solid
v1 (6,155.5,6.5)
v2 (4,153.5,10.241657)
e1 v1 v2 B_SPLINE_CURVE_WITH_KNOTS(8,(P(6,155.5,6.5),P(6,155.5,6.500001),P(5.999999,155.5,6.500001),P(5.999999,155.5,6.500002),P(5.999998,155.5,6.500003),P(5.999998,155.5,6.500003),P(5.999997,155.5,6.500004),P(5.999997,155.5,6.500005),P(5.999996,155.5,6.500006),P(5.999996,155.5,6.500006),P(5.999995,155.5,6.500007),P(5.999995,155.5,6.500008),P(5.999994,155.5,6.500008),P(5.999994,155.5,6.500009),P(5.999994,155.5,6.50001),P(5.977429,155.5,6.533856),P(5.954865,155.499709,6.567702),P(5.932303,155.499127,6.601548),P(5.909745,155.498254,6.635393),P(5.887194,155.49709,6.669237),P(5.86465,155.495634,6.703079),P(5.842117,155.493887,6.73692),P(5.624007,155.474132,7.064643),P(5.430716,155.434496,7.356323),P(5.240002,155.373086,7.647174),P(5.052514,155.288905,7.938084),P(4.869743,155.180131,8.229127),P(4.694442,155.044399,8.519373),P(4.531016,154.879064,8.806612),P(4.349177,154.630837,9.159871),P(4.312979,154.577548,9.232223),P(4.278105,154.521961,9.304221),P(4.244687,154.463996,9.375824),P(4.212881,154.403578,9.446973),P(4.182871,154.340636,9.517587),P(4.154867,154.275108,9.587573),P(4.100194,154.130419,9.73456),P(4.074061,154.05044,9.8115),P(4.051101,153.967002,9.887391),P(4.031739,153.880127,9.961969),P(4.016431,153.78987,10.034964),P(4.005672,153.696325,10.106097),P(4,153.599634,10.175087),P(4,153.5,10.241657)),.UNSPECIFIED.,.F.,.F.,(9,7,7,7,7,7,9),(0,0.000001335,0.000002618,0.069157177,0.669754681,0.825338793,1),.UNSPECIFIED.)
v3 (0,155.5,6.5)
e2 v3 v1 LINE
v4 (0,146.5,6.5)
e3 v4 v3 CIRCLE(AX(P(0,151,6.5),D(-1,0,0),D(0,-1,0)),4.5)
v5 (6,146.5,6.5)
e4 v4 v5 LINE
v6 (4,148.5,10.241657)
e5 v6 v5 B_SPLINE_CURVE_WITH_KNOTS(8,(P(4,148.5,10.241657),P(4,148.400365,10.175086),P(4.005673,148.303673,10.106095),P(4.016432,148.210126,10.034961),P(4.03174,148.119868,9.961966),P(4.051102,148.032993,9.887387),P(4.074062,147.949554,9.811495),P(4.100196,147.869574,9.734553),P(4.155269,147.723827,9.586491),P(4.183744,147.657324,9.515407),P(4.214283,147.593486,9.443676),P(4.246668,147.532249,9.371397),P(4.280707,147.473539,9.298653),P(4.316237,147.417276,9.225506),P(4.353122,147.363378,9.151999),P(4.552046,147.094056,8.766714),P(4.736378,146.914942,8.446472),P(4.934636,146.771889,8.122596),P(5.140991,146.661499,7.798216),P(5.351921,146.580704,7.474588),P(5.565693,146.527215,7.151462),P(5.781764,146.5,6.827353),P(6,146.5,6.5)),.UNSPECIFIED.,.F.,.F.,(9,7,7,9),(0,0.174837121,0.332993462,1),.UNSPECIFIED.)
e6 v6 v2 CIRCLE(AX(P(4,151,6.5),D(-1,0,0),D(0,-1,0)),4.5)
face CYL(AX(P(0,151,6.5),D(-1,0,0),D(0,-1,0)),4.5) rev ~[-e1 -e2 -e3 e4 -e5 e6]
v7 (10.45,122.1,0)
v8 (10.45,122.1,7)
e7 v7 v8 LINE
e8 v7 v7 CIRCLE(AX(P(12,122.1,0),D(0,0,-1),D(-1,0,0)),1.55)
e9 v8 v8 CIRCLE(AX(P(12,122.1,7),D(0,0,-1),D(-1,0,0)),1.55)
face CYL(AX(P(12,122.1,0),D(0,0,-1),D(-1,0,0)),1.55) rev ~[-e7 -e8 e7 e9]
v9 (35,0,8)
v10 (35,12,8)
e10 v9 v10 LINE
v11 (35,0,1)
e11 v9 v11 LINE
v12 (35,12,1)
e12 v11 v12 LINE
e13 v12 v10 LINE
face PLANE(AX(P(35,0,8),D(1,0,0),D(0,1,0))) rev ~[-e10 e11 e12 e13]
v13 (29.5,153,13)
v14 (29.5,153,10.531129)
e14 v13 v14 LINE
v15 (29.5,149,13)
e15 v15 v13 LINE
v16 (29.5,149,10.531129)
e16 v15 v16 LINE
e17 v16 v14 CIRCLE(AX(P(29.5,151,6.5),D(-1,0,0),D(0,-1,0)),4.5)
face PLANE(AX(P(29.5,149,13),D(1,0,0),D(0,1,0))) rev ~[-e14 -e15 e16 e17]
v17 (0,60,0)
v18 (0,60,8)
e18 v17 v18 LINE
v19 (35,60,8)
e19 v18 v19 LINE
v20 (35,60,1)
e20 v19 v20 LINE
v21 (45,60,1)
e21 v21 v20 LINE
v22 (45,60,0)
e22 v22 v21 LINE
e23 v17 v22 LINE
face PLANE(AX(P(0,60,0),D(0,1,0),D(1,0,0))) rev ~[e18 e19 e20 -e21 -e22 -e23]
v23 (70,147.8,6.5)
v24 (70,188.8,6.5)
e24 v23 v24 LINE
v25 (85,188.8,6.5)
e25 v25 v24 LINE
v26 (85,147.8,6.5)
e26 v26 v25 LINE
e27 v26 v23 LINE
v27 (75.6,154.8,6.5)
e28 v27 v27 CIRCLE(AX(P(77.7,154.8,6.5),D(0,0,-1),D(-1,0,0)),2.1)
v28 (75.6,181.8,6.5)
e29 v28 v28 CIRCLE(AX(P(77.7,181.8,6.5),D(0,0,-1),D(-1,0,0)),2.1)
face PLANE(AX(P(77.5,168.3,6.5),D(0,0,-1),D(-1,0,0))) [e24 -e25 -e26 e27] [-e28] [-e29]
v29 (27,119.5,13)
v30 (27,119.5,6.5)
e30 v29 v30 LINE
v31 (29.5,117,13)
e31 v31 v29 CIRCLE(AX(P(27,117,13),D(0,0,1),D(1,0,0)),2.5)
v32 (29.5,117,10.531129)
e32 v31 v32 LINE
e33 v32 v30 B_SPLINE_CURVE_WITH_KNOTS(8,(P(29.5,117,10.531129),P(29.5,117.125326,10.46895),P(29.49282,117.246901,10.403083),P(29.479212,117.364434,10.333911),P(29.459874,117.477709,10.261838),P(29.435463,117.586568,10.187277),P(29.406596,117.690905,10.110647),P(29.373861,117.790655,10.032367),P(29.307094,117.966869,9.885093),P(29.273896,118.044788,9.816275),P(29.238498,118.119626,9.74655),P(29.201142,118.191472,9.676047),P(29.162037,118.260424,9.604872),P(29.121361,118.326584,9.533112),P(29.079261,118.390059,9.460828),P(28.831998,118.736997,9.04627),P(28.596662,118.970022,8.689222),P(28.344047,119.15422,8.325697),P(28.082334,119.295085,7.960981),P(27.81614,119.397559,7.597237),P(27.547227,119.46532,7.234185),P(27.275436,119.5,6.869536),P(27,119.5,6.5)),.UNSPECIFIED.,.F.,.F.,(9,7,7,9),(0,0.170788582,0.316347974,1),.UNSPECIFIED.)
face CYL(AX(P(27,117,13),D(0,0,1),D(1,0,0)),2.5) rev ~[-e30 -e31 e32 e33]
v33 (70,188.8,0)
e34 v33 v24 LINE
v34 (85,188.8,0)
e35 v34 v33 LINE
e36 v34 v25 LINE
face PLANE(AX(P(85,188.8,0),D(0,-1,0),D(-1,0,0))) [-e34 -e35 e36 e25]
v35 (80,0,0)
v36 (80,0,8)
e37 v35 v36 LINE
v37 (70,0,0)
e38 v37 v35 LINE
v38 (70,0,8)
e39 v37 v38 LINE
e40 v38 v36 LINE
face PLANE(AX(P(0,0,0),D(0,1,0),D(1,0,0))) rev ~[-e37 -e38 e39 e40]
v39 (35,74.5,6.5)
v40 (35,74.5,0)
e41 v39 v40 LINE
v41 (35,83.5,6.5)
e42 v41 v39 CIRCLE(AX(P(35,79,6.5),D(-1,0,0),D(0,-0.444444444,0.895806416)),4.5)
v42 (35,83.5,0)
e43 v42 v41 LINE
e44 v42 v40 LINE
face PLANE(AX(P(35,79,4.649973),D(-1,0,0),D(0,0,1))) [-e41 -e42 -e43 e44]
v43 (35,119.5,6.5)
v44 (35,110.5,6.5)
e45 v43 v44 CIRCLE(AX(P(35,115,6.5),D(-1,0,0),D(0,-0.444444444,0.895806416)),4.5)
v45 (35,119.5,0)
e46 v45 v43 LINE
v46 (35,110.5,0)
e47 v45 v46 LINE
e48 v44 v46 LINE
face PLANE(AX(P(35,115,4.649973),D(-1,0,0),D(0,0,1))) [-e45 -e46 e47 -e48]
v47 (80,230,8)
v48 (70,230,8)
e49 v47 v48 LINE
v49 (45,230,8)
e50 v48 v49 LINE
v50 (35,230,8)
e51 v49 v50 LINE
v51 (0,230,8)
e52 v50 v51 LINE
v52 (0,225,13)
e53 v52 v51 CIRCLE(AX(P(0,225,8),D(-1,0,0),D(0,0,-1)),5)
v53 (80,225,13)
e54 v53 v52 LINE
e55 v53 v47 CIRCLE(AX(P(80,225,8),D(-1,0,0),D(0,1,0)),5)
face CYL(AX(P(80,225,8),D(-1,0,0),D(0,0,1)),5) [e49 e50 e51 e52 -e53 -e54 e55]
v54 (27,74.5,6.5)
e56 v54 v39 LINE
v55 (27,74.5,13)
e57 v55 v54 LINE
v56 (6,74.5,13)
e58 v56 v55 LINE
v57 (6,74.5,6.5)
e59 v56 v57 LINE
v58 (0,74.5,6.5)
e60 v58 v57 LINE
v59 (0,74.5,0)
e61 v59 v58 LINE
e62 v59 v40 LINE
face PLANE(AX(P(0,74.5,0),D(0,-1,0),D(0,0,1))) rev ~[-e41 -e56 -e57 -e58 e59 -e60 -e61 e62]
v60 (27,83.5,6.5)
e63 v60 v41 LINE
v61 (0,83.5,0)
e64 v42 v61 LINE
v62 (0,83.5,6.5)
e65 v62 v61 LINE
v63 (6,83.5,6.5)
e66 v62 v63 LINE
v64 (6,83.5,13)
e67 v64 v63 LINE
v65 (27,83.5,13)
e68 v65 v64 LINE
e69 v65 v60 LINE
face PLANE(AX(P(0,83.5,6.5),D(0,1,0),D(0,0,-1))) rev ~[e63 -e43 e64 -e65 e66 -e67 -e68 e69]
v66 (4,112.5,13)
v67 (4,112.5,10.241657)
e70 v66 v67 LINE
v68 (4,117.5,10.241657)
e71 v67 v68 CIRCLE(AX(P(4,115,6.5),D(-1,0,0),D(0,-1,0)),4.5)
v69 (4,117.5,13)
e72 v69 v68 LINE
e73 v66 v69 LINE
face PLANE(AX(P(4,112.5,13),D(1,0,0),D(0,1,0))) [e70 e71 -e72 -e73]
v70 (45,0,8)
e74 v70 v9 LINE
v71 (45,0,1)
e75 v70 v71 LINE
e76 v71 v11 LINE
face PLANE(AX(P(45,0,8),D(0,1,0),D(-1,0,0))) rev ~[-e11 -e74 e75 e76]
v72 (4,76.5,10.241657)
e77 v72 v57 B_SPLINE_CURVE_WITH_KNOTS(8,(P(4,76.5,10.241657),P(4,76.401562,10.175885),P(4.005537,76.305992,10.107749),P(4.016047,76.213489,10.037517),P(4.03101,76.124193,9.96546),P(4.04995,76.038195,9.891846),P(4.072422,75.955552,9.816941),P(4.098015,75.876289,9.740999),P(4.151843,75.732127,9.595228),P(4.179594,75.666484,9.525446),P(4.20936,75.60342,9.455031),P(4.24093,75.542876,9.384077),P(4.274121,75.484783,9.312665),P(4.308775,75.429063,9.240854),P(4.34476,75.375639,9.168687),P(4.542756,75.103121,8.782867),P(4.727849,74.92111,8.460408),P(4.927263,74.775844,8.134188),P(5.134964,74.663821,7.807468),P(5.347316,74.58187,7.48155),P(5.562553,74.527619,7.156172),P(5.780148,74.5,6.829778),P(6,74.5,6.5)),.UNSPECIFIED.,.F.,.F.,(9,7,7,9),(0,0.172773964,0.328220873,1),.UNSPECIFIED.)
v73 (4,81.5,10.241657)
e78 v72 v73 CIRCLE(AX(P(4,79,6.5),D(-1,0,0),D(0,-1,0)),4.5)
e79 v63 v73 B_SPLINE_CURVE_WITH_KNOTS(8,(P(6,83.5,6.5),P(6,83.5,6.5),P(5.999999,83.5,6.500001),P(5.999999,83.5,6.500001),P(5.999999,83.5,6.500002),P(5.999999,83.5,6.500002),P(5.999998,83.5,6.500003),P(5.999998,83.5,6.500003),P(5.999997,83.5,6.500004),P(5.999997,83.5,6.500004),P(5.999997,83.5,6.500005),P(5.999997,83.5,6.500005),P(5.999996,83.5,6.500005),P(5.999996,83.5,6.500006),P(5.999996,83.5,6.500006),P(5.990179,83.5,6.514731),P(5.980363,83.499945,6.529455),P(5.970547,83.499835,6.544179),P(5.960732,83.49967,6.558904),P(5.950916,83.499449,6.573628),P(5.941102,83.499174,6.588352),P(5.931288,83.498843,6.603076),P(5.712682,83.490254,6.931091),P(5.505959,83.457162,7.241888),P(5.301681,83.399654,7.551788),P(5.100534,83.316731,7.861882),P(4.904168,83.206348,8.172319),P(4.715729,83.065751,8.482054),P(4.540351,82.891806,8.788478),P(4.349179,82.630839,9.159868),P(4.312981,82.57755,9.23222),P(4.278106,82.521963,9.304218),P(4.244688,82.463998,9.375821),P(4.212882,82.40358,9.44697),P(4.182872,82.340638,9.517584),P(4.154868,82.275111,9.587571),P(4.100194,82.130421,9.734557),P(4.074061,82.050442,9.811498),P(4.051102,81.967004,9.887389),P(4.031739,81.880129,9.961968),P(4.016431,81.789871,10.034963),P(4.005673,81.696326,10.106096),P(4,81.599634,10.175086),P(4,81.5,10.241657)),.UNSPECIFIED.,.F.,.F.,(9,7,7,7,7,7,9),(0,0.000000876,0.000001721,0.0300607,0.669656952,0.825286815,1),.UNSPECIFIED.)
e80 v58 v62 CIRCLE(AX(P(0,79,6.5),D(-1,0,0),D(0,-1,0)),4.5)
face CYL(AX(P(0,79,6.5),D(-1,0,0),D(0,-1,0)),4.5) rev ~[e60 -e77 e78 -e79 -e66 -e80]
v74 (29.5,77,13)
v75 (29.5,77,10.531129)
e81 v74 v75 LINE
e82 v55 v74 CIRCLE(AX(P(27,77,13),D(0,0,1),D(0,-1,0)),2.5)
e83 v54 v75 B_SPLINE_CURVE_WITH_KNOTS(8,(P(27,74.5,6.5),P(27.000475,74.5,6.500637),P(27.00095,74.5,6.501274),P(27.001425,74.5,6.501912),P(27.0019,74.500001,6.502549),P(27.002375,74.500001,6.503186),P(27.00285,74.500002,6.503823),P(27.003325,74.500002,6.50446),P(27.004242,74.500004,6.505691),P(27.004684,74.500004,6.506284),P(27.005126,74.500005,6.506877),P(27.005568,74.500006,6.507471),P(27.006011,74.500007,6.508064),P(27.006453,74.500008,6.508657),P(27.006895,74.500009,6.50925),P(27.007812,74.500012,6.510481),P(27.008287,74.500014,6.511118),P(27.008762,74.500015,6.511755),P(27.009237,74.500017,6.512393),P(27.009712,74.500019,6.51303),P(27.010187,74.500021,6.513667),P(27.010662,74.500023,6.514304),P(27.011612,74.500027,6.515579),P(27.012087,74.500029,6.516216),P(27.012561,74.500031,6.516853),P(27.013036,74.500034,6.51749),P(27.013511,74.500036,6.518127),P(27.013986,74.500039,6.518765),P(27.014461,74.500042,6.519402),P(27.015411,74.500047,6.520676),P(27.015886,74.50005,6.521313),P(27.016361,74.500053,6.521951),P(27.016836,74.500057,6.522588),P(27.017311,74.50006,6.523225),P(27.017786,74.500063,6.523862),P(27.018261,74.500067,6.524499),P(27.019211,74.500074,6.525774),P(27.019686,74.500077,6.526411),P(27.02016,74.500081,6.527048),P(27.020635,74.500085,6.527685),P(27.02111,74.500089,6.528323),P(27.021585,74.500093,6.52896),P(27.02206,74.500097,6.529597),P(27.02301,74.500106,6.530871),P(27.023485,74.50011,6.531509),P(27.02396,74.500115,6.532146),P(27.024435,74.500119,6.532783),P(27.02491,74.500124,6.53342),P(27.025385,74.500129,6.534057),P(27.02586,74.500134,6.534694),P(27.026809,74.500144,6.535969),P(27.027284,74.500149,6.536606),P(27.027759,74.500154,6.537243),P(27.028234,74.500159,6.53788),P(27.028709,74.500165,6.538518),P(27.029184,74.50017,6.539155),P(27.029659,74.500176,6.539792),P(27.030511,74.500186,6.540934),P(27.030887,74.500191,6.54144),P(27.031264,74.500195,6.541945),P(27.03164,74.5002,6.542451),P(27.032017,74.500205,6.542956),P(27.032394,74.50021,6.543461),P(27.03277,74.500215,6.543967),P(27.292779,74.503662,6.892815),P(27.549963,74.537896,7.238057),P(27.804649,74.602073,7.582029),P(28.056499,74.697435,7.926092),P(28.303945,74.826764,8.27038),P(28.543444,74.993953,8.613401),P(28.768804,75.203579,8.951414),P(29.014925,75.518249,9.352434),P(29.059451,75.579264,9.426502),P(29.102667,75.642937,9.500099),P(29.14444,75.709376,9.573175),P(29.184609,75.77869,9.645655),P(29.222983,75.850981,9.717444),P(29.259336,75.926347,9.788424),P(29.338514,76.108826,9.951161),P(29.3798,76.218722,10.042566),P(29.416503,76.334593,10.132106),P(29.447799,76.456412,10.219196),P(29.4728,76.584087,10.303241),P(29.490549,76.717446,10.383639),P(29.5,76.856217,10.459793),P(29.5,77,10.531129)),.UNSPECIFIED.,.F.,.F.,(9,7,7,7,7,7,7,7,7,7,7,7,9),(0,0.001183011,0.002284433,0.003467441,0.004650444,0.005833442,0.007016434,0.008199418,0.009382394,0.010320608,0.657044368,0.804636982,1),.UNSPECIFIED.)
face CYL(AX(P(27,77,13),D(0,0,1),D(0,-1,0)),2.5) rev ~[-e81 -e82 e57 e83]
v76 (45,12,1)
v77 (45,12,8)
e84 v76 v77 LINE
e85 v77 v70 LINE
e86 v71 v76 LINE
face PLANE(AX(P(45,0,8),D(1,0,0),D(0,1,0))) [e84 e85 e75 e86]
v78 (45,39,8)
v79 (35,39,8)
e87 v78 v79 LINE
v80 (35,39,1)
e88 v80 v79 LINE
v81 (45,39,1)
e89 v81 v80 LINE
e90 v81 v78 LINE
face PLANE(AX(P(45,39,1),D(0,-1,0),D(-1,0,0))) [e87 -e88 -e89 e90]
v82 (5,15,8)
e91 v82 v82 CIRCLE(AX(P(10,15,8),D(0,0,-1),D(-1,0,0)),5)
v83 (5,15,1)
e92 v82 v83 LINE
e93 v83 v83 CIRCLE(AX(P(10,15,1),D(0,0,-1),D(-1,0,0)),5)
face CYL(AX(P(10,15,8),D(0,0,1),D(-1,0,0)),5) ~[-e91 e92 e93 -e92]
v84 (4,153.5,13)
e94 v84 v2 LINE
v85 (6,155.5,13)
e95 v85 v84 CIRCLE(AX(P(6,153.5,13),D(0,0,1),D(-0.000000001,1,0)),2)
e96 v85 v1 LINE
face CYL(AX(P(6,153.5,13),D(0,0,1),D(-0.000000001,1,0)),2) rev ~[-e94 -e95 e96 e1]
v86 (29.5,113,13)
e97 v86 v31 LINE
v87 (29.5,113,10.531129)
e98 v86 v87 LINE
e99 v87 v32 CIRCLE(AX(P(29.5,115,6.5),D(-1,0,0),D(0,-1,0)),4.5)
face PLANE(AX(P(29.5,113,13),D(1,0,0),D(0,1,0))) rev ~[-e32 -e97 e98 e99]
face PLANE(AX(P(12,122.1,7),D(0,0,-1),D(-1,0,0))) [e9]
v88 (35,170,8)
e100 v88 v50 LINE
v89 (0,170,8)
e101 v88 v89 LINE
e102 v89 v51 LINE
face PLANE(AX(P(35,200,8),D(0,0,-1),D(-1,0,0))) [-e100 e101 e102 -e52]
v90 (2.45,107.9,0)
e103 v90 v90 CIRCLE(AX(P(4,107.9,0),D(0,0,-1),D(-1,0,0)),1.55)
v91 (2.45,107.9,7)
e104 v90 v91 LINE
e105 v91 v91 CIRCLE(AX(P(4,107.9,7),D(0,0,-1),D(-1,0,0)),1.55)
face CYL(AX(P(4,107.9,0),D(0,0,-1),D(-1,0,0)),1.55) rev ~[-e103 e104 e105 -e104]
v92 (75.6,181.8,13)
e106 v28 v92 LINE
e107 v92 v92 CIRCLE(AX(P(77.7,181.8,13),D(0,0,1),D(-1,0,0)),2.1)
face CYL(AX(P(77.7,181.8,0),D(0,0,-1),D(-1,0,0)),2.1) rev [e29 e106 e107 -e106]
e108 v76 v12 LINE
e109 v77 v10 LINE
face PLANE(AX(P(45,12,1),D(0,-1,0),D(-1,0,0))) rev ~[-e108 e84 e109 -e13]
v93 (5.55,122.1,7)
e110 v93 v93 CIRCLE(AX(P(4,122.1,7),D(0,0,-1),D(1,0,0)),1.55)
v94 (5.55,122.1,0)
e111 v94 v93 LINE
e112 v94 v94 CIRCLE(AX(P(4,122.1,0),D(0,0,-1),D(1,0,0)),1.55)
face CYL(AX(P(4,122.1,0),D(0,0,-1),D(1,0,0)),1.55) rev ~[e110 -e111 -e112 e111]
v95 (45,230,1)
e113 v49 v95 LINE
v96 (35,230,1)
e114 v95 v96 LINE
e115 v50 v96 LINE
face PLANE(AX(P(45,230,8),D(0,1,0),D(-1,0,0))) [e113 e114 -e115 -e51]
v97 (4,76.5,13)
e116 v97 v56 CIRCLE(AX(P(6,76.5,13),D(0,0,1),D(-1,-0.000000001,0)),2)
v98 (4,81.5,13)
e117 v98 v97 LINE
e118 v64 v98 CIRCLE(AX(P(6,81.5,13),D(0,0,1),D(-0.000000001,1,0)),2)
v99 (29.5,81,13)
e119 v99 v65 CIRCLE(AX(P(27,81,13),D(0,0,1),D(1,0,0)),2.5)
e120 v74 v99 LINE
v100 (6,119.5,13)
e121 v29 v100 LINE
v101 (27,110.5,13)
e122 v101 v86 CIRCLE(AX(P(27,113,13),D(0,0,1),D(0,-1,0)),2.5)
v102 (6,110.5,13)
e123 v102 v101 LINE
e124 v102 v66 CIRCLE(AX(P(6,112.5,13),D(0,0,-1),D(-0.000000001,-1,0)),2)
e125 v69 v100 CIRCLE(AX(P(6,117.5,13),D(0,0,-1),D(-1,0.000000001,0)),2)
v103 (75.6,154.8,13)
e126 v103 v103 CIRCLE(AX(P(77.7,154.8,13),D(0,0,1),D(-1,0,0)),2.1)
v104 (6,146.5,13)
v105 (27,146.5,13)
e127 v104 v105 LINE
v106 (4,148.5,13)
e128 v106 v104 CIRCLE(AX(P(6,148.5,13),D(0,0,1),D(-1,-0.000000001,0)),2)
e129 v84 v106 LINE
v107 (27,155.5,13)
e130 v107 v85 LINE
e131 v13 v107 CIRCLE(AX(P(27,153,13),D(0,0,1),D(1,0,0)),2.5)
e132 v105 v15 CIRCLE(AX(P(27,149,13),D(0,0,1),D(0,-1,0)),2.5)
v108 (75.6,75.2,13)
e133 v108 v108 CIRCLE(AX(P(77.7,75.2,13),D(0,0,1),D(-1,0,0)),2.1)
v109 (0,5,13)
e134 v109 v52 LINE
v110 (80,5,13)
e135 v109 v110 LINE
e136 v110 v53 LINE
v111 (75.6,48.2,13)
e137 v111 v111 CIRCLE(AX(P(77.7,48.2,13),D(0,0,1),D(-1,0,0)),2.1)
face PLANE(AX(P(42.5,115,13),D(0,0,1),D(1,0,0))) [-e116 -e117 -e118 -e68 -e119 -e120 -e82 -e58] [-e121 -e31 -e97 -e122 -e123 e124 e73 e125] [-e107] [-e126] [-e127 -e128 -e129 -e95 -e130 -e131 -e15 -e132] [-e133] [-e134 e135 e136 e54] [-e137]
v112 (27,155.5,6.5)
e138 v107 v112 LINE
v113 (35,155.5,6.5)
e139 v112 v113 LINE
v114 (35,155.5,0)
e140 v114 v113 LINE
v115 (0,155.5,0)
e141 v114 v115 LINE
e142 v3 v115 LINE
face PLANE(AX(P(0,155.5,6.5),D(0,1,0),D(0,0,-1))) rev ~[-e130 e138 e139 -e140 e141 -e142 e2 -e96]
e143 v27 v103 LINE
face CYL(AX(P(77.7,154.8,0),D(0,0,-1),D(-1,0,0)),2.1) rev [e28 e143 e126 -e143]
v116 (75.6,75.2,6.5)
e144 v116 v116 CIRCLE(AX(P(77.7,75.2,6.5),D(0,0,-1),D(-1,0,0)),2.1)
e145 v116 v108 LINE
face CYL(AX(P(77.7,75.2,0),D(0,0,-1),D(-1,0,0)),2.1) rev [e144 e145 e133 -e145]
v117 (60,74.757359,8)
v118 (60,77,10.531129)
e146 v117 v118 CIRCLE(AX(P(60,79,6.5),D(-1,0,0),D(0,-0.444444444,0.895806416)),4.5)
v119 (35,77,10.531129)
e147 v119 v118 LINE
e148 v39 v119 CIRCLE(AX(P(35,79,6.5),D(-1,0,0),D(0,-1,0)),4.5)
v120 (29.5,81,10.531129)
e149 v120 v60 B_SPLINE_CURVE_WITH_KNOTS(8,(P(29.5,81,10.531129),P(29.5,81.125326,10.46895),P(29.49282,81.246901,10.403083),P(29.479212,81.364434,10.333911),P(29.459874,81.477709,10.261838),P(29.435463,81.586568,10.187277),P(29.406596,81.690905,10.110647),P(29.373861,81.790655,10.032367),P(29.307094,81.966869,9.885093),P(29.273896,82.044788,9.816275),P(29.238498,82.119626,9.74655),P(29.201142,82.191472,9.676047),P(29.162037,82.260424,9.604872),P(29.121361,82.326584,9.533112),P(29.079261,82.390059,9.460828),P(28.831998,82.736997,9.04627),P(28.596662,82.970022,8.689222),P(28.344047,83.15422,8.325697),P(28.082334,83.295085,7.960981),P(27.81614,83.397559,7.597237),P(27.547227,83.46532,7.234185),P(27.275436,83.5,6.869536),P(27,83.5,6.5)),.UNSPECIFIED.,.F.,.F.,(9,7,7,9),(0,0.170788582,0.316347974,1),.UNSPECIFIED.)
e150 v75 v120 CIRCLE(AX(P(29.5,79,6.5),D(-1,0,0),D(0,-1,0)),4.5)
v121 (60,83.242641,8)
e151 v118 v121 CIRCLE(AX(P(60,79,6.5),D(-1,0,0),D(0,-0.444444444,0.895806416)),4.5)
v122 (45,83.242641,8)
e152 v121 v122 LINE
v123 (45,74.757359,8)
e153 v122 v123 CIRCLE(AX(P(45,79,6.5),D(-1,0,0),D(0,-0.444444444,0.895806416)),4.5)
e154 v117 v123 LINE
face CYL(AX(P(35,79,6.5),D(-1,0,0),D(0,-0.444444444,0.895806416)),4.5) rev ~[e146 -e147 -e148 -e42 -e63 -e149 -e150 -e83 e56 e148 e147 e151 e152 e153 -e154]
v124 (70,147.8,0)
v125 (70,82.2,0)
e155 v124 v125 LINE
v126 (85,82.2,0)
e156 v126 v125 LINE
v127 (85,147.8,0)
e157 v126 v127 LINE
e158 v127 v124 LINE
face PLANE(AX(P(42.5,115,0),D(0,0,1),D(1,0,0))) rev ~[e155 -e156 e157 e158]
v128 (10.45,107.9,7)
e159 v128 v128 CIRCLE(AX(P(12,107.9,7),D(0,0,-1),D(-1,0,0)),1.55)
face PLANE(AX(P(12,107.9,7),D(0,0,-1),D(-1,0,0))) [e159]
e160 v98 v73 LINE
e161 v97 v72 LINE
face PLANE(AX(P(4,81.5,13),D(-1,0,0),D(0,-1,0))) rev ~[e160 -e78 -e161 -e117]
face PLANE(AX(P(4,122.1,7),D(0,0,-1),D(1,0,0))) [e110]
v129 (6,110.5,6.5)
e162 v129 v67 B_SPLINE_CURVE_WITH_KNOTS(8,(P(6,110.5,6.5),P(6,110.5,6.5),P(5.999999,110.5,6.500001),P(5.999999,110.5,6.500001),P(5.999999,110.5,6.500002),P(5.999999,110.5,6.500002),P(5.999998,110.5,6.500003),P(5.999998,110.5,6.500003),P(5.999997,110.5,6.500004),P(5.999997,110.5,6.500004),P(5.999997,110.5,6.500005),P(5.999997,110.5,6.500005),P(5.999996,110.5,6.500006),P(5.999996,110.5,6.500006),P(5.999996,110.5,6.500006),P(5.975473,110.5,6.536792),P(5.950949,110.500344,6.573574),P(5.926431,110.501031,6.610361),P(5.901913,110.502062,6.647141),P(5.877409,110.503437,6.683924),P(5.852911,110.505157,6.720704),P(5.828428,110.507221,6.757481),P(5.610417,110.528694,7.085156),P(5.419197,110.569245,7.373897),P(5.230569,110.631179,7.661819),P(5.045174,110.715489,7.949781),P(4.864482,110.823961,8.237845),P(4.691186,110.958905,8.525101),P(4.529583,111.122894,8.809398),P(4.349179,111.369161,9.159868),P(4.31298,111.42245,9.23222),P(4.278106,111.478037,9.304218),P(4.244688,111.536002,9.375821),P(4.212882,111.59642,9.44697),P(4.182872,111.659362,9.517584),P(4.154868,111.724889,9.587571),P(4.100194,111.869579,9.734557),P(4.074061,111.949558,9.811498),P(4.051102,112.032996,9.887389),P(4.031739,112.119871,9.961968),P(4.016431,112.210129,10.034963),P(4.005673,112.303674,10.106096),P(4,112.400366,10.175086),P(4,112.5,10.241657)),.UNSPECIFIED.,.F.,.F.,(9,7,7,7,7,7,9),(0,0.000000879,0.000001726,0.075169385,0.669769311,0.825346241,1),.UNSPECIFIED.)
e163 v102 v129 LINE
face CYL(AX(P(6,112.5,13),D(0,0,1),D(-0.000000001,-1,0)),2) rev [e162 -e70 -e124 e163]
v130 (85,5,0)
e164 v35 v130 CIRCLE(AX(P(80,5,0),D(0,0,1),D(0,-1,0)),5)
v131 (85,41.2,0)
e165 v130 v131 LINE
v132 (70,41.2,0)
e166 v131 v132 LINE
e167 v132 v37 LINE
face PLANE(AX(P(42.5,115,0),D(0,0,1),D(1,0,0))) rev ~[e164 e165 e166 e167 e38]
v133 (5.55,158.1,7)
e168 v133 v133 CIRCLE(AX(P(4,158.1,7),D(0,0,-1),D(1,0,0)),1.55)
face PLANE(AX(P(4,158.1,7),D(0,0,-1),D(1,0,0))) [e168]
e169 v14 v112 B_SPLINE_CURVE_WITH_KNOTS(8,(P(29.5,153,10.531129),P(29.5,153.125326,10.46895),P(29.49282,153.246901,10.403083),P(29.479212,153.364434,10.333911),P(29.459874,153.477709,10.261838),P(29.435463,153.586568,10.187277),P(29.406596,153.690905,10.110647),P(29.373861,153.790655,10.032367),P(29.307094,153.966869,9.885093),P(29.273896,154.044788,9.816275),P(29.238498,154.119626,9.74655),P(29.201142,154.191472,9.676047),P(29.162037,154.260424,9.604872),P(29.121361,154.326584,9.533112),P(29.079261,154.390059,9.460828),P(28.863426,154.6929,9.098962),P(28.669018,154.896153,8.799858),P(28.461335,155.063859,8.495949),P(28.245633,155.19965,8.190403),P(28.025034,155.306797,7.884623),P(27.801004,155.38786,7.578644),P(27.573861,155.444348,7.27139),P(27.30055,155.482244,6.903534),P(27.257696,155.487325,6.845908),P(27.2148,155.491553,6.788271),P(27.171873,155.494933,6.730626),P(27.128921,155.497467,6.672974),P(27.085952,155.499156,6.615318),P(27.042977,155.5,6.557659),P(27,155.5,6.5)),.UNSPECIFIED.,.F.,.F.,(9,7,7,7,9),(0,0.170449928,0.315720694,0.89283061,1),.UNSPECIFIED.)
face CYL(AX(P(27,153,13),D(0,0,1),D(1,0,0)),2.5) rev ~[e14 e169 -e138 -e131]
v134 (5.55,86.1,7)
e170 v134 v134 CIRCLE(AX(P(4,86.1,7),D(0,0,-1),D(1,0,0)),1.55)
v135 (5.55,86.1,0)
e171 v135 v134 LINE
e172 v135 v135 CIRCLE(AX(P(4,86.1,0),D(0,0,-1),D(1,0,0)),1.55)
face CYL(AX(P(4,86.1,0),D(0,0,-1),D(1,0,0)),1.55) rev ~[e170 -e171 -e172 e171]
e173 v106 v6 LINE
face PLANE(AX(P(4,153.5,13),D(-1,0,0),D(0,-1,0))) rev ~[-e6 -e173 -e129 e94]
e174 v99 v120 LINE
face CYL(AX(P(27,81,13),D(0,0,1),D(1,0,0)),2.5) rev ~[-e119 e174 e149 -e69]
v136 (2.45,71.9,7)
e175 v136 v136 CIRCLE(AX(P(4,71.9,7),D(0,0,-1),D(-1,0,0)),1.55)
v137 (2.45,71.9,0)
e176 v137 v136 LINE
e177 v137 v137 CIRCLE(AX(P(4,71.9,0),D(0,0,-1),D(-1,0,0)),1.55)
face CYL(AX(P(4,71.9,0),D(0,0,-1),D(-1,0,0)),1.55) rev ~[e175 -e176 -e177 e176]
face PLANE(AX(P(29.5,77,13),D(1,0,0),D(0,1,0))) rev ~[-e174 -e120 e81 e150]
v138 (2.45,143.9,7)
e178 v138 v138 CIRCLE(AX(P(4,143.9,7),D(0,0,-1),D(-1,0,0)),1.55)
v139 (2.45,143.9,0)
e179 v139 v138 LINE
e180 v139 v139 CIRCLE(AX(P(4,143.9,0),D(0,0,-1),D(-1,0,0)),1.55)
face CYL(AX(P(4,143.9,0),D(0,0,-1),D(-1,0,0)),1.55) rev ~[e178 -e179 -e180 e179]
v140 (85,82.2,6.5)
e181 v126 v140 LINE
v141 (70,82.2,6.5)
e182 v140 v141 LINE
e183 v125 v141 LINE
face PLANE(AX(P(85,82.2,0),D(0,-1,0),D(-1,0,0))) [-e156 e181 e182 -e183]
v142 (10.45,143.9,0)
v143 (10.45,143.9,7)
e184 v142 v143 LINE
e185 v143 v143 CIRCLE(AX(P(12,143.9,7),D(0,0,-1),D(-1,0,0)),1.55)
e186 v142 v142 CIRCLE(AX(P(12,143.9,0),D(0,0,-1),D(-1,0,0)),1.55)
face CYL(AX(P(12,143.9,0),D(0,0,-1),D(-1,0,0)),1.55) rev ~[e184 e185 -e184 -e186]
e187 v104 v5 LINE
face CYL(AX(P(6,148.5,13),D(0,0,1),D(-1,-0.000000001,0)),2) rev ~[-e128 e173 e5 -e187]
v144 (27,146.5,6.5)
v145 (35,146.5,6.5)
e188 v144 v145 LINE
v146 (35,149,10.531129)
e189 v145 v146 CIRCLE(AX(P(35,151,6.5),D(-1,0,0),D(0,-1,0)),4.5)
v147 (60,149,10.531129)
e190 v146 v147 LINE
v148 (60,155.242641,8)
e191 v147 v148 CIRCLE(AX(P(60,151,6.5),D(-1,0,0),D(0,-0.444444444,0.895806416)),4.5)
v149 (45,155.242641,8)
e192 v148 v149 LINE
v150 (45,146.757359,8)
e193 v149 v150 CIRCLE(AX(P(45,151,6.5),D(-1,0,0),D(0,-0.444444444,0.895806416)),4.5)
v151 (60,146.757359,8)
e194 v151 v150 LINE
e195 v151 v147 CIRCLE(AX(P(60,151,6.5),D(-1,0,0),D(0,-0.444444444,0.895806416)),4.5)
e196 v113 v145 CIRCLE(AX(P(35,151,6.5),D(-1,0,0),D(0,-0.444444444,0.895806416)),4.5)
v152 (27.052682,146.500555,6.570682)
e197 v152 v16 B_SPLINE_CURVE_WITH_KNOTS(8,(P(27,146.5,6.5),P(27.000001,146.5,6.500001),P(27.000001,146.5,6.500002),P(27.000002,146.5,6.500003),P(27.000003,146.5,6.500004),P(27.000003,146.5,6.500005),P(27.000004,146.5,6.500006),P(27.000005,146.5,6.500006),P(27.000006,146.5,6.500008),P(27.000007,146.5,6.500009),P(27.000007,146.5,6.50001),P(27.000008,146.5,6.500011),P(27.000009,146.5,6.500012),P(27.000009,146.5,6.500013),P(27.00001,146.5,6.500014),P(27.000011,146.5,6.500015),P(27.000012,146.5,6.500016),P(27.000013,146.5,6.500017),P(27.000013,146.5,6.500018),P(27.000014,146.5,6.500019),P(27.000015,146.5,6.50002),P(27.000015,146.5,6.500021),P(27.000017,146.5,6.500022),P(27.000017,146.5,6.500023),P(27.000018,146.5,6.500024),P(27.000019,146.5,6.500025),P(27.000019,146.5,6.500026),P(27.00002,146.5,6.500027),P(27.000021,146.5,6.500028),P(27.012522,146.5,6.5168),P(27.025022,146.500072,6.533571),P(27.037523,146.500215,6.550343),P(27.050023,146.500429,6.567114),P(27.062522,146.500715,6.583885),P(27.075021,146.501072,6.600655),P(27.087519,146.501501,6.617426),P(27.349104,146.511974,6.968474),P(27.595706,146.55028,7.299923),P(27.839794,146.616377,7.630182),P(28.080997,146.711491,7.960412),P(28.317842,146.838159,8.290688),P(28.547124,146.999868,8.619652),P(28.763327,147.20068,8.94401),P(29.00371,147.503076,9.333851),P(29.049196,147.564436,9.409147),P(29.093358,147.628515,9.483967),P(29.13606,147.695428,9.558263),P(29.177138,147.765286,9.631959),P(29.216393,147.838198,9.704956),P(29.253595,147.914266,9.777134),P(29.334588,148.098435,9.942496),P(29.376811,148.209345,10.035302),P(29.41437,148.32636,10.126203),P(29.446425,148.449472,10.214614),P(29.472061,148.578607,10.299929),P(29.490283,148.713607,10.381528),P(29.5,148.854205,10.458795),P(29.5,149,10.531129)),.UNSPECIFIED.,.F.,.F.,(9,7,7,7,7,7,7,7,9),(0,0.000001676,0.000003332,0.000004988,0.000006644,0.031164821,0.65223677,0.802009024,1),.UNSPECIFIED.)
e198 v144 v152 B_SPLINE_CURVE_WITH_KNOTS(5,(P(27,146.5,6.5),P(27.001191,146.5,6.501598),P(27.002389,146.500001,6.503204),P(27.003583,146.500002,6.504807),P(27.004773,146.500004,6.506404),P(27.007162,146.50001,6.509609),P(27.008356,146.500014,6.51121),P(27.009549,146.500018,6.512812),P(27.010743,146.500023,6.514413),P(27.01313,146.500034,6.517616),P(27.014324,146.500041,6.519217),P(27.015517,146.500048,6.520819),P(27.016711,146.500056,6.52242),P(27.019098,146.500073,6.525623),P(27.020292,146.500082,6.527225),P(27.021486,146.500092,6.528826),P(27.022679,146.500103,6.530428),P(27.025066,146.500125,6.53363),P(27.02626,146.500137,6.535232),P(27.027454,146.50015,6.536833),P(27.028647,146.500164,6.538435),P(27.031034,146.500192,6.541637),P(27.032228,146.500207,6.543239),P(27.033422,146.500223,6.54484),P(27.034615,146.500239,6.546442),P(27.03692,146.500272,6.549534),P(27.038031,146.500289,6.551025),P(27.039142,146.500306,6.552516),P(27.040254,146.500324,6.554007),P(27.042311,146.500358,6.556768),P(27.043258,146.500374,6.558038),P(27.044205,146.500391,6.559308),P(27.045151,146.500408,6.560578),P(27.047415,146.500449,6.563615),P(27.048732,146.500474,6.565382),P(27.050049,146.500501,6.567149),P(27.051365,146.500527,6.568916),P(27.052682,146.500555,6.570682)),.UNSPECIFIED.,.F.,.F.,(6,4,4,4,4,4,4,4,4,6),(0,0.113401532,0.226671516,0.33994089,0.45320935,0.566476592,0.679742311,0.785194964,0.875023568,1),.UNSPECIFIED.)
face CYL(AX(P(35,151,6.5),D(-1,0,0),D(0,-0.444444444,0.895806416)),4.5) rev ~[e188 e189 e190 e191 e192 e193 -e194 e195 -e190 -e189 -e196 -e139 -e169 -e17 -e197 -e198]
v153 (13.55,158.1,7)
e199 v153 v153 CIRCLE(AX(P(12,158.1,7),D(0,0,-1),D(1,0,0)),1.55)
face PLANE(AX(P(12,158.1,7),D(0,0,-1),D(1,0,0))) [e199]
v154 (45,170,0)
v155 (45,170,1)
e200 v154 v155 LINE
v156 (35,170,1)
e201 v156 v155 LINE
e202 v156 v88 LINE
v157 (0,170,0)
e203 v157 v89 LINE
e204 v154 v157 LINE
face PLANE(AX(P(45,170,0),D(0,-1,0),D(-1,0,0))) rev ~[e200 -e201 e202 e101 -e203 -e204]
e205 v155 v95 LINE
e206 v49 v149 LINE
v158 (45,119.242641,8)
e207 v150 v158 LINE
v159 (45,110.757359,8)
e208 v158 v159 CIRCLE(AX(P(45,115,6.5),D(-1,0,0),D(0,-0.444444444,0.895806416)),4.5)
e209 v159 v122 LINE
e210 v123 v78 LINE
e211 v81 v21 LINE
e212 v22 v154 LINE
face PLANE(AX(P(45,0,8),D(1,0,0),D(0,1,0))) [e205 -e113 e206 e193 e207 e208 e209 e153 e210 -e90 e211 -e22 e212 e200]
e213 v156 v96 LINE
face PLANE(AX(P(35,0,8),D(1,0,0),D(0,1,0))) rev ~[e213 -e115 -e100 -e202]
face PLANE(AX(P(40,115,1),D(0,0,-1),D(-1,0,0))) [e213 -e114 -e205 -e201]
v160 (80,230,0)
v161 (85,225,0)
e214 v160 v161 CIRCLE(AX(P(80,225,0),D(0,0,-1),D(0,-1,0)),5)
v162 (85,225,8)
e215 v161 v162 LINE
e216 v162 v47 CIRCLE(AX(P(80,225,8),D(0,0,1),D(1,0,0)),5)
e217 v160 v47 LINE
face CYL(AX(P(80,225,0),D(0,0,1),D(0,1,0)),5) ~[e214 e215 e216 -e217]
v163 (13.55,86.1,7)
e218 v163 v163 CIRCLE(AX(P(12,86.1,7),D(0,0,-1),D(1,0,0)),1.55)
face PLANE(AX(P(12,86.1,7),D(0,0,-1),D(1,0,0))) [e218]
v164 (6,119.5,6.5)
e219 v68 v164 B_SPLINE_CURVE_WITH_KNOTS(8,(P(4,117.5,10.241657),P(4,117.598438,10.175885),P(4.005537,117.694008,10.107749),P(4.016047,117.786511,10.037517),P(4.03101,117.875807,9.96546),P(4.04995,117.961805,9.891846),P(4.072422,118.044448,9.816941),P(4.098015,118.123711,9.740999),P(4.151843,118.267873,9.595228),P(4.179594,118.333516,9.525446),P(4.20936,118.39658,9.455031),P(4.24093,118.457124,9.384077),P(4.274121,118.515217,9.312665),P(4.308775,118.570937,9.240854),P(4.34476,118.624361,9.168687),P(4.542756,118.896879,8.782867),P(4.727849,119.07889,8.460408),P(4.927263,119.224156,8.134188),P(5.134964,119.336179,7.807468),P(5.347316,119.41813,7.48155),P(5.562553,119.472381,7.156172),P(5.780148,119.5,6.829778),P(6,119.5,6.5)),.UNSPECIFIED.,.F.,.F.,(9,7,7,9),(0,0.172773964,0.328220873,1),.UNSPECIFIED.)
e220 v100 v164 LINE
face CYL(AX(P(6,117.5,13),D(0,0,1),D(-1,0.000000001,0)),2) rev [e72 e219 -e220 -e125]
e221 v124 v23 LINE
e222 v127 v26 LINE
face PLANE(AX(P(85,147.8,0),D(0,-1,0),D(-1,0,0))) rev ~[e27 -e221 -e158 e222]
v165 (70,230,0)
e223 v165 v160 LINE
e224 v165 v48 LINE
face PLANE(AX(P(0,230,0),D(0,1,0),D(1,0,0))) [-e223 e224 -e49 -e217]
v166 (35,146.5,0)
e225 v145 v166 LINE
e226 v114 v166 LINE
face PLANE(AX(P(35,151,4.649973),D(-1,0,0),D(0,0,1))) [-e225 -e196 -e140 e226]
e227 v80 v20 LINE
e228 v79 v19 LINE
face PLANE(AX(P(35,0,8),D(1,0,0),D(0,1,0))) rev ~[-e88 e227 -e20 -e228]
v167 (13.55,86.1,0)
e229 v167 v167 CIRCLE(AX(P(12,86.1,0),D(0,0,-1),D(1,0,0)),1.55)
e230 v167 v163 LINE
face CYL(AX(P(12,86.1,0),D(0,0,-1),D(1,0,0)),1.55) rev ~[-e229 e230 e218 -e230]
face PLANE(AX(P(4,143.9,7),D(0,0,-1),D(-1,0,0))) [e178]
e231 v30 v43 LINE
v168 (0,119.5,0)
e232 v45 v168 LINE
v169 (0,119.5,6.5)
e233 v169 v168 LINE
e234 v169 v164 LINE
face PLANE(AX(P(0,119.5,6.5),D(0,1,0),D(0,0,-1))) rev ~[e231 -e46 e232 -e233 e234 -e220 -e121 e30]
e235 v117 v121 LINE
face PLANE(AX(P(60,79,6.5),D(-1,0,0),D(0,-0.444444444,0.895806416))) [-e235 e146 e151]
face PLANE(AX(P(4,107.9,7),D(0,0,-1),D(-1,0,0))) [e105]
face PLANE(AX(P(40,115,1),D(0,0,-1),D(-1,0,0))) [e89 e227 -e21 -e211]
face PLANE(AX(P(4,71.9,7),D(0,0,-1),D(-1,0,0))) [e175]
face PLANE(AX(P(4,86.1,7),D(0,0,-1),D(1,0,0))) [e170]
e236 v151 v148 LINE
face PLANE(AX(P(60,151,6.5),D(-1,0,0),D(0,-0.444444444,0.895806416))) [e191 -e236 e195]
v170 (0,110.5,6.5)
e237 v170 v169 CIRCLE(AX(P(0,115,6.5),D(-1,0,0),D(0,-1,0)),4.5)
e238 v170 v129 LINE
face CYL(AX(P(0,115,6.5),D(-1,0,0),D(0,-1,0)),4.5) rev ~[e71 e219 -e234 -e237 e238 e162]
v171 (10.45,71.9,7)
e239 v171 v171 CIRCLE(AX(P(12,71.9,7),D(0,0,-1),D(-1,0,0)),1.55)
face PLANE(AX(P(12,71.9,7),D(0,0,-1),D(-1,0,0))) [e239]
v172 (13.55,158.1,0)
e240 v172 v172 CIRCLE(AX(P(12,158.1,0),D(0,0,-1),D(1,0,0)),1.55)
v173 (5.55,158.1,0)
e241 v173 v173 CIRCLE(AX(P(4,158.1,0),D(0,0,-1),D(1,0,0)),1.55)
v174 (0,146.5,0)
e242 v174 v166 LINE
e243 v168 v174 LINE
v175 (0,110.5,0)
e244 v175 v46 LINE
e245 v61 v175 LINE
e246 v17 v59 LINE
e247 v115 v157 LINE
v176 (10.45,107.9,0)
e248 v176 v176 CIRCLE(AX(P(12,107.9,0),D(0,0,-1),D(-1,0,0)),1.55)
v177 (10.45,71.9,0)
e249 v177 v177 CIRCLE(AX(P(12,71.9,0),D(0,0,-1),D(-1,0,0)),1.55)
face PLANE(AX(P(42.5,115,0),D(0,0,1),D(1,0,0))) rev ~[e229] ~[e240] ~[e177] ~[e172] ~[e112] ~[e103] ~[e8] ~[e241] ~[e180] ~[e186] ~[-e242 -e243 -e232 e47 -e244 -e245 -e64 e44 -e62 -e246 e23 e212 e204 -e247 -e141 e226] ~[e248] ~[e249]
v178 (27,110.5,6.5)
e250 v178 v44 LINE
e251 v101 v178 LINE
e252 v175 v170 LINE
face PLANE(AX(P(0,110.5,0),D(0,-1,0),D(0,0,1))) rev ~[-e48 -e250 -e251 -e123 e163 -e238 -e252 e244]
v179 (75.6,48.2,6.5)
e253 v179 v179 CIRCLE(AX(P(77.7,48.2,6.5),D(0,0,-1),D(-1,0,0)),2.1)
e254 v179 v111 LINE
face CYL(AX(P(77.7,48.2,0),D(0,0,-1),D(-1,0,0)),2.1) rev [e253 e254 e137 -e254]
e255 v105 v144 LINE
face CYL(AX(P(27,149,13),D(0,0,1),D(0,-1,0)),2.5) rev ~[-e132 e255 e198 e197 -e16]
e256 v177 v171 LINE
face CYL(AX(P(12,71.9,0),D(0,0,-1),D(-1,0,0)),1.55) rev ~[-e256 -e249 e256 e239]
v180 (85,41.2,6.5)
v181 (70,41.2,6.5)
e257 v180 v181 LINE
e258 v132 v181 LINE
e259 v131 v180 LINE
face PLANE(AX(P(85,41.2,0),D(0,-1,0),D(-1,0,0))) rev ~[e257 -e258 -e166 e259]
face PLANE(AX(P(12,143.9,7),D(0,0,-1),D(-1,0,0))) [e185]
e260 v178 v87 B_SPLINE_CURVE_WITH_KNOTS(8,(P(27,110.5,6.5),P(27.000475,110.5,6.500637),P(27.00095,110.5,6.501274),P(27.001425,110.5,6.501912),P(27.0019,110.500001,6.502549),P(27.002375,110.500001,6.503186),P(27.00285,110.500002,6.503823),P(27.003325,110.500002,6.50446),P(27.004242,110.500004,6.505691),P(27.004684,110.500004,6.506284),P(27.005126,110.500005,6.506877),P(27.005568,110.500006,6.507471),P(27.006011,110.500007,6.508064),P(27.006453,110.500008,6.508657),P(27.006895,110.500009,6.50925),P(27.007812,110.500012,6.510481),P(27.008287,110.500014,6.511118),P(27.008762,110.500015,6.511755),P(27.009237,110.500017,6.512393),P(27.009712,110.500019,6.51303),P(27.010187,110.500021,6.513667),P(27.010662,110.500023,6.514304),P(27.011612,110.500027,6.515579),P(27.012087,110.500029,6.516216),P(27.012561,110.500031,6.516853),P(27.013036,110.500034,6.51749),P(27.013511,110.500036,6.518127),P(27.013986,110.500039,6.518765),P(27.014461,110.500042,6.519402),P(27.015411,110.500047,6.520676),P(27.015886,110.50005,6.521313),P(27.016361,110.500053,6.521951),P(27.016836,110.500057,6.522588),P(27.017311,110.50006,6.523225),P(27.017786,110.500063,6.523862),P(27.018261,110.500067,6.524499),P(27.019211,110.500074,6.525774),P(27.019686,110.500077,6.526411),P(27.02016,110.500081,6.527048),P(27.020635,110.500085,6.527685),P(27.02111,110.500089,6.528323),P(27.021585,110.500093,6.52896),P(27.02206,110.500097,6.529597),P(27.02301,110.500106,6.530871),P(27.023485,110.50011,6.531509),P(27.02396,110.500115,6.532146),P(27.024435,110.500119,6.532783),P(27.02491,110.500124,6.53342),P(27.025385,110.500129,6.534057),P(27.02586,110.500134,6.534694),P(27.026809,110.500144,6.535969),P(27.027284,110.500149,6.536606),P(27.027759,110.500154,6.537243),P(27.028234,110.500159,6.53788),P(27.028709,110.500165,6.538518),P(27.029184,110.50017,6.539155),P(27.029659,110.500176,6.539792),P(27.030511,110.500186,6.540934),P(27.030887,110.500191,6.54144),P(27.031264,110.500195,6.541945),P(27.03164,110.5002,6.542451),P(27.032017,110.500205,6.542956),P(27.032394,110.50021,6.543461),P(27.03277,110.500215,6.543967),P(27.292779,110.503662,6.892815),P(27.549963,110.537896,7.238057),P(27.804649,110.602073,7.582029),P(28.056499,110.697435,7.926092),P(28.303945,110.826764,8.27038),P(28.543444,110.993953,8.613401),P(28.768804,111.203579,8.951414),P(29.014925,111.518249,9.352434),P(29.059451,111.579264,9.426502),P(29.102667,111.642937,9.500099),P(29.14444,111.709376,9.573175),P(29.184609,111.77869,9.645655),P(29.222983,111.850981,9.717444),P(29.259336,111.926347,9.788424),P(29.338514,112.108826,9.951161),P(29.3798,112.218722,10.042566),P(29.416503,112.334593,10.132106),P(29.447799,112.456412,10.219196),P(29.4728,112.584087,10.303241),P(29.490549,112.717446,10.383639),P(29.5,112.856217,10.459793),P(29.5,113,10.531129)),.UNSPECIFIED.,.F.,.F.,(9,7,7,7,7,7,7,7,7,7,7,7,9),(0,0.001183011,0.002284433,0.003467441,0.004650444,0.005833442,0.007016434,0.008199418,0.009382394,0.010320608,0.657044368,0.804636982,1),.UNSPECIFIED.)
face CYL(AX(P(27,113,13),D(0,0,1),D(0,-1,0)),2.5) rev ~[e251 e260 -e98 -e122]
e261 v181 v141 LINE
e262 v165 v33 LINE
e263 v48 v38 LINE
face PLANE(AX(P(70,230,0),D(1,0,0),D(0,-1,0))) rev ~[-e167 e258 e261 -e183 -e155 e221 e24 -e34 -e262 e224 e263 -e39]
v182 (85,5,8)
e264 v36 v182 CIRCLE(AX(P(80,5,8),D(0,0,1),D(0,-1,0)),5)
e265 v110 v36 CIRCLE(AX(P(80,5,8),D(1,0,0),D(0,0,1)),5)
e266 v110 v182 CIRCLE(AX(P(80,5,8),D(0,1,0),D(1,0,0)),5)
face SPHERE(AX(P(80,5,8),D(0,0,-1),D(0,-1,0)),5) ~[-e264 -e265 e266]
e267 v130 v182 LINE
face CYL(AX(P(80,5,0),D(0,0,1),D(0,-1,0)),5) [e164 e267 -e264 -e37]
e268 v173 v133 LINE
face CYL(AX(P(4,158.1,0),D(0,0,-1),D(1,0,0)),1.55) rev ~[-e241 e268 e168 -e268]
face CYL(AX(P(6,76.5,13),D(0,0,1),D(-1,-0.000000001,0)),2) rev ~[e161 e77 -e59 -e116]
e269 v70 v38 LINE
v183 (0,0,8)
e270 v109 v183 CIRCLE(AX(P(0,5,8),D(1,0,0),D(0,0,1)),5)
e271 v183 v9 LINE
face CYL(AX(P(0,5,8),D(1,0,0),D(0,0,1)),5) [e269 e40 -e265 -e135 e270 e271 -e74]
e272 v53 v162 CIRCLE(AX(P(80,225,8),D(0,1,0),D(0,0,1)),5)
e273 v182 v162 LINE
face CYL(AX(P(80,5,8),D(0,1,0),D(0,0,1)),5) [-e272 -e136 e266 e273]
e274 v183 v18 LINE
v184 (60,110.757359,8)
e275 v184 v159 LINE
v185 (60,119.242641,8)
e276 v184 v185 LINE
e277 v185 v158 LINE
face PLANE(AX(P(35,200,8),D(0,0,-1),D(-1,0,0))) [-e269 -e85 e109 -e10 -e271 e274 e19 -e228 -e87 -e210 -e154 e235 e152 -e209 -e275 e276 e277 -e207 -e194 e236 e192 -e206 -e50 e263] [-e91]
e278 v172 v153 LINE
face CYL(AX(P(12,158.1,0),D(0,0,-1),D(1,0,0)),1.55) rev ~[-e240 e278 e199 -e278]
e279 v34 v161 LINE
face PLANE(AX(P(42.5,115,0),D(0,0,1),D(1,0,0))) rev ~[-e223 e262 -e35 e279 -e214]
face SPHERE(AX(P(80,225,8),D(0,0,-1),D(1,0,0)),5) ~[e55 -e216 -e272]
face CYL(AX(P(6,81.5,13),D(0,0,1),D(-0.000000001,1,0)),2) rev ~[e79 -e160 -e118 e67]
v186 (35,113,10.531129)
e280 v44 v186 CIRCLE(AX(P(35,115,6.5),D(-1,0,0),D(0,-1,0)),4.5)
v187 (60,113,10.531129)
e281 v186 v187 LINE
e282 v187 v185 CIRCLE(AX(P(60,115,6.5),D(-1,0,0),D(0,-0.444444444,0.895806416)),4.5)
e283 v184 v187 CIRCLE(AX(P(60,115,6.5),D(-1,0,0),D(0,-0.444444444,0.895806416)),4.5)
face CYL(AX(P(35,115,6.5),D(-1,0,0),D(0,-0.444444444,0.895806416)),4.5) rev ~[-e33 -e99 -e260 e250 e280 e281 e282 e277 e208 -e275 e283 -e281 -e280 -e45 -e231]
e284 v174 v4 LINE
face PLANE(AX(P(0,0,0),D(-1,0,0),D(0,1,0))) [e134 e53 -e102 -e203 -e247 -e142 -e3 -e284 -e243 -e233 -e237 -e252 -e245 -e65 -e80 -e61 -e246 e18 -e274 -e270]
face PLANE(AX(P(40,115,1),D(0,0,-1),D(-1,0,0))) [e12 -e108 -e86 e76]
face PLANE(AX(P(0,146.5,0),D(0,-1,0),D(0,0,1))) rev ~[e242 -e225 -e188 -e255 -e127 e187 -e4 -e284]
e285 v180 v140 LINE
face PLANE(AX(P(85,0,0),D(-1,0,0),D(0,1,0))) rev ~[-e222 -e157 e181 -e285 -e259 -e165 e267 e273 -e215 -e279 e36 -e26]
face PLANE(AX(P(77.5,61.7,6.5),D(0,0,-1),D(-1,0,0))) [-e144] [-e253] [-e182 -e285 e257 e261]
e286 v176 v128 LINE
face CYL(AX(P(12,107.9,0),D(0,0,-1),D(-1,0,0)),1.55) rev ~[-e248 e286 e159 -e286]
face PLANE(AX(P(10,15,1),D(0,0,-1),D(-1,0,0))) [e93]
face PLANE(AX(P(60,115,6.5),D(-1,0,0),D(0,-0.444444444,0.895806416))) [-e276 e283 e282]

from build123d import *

# Parameters (mm, degrees)
SKETCH1_W           = 85
SKETCH1_H           = 230
SKETCH1_R           = 2.1
BOSS_EXTRUDE2_DEPTH = 13
FILLET1_R           = 5
FILLET2_R           = 5
CUT_EXTRUDE2_DEPTH  = 35
CUT_EXTRUDE3_DEPTH  = 14
SKETCH6_R           = 1.55
CUT_EXTRUDE4_DEPTH  = 7
SKETCH9_W           = 25
SKETCH9_H           = 110
CUT_EXTRUDE5_DEPTH  = 8
SKETCH13_R          = 5
SKETCH13_W          = 10
SKETCH13_H          = 230
BOSS_EXTRUDE4_DEPTH = 7
SKETCH14_W          = 15
SKETCH14_H          = 41
CUT_EXTRUDE6_DEPTH  = 6.5
SKETCH16_R          = 4.5
CUT_EXTRUDE8_DEPTH  = 25
SKETCH20_W          = 10
SKETCH20_H          = 27
CUT_EXTRUDE9_DEPTH  = 7


with BuildPart() as part:
    # Sketch1 → Boss-Extrude2 (new body)
    with BuildSketch(Plane.XY):
        with Locations((42.5, 115)):
            Rectangle(SKETCH1_W, SKETCH1_H)
        with Locations(Location((77.7, 181.8, 0), (0, 0, 180))):
            Circle(SKETCH1_R, mode=Mode.SUBTRACT)
        with Locations(Location((77.7, 154.8, 0), (0, 0, 180))):
            Circle(SKETCH1_R, mode=Mode.SUBTRACT)
        with Locations(Location((77.7, 75.2, 0), (0, 0, 180))):
            Circle(SKETCH1_R, mode=Mode.SUBTRACT)
        with Locations(Location((77.7, 48.2, 0), (0, 0, 180))):
            Circle(SKETCH1_R, mode=Mode.SUBTRACT)
    extrude(amount=BOSS_EXTRUDE2_DEPTH)

    # Fillet1
    fillet1_edges = [part.edges().sort_by_distance(p)[0] for p in [
        (85, 230, 6.5),
        (85, 0, 6.5),
    ]]
    fillet(fillet1_edges, radius=FILLET1_R)

    # Fillet2
    fillet2_edges = [part.edges().sort_by_distance(p)[0] for p in [
        (85, 115, 13),
        (40, 230, 13),
        (83.535533906, 228.535533906, 13),
        (83.535533906, 1.464466094, 13),
        (40, 0, 13),
    ]]
    fillet(fillet2_edges, radius=FILLET2_R)

    # Sketch5 → Cut-Extrude2 (cut)
    with BuildSketch(Plane.ZY):
        with BuildLine():
            Line((6.5, 119.5), (0, 119.5))
            Line((0, 119.5), (0, 110.5))
            Line((0, 110.5), (6.5, 110.5))
            ThreePointArc((6.5, 110.5), (11, 115), (6.5, 119.5))
        make_face()
        with BuildLine():
            Line((0, 146.5), (6.5, 146.5))
            ThreePointArc((6.5, 146.5), (11, 151), (6.5, 155.5))
            Line((6.5, 155.5), (0, 155.5))
            Line((0, 155.5), (0, 146.5))
        make_face()
        with BuildLine():
            Line((0, 83.5), (0, 74.5))
            Line((0, 74.5), (6.5, 74.5))
            ThreePointArc((6.5, 74.5), (11, 79), (6.5, 83.5))
            Line((6.5, 83.5), (0, 83.5))
        make_face()
    extrude(amount=-CUT_EXTRUDE2_DEPTH, mode=Mode.SUBTRACT)

    # Sketch4 → Cut-Extrude3 (cut)
    with BuildSketch(Plane.XY.offset(13)):
        with BuildLine():
            Line((27, 119.5), (7, 119.5))
            Line((7, 119.5), (7, 110.5))
            Line((7, 110.5), (27, 110.5))
            ThreePointArc((27, 110.5), (28.767766953, 111.232233047), (29.5, 113))
            Line((29.5, 113), (29.5, 117))
            ThreePointArc((29.5, 117), (28.767766953, 118.767766953), (27, 119.5))
        make_face()
        with BuildLine():
            ThreePointArc((4, 117.5), (4.585786438, 118.914213562), (6, 119.5))
            Line((6, 119.5), (7, 119.5))
            Line((7, 119.5), (7, 110.5))
            Line((7, 110.5), (6, 110.5))
            ThreePointArc((6, 110.5), (4.585786438, 111.085786438), (4, 112.5))
            Line((4, 112.5), (4, 117.5))
        make_face()
        with BuildLine():
            ThreePointArc((29.5, 153), (28.767766953, 154.767766953), (27, 155.5))
            Line((27, 155.5), (7, 155.5))
            Line((7, 155.5), (6, 155.5))
            ThreePointArc((6, 155.5), (4.585786438, 154.914213562), (4, 153.5))
            Line((4, 153.5), (4, 148.5))
            ThreePointArc((4, 148.5), (4.585786438, 147.085786438), (6, 146.5))
            Line((6, 146.5), (7, 146.5))
            Line((7, 146.5), (27, 146.5))
            ThreePointArc((27, 146.5), (28.767766953, 147.232233047), (29.5, 149))
            Line((29.5, 149), (29.5, 153))
        make_face()
        with BuildLine():
            Line((7, 74.5), (27, 74.5))
            ThreePointArc((27, 74.5), (28.767766953, 75.232233047), (29.5, 77))
            Line((29.5, 77), (29.5, 81))
            ThreePointArc((29.5, 81), (28.767766953, 82.767766953), (27, 83.5))
            Line((27, 83.5), (7, 83.5))
            Line((7, 83.5), (6, 83.5))
            ThreePointArc((6, 83.5), (4.585786438, 82.914213562), (4, 81.5))
            Line((4, 81.5), (4, 76.5))
            ThreePointArc((4, 76.5), (4.585786438, 75.085786438), (6, 74.5))
            Line((6, 74.5), (7, 74.5))
        make_face()
    extrude(amount=-CUT_EXTRUDE3_DEPTH, mode=Mode.SUBTRACT)

    # Sketch6 → Cut-Extrude4 (cut)
    with BuildSketch(Plane(origin=(0, 0, 0), x_dir=(-1, 0, 0), z_dir=(0, 0, -1))):
        with Locations((-12, 107.9)):
            Circle(SKETCH6_R)
        with Locations((-4, 107.9)):
            Circle(SKETCH6_R)
        with Locations((-12, 122.1)):
            Circle(SKETCH6_R)
        with Locations(Location((-4, 122.1, 0), (0, 0, 180))):
            Circle(SKETCH6_R)
        with Locations(Location((-12, 158.1, 0), (0, 0, 180))):
            Circle(SKETCH6_R)
        with Locations((-12, 143.9)):
            Circle(SKETCH6_R)
        with Locations((-4, 143.9)):
            Circle(SKETCH6_R)
        with Locations(Location((-4, 158.1, 0), (0, 0, 180))):
            Circle(SKETCH6_R)
        with Locations(Location((-12, 86.1, 0), (0, 0, 180))):
            Circle(SKETCH6_R)
        with Locations(Location((-4, 86.1, 0), (0, 0, 180))):
            Circle(SKETCH6_R)
        with Locations((-4, 71.9)):
            Circle(SKETCH6_R)
        with Locations((-12, 71.9)):
            Circle(SKETCH6_R)
    extrude(amount=-CUT_EXTRUDE4_DEPTH, mode=Mode.SUBTRACT)

    # Sketch9 → Cut-Extrude5 (cut)
    with BuildSketch(Plane(origin=(0, 0, 0), x_dir=(-1, 0, 0), z_dir=(0, 0, -1))):
        Polygon((0, 170), (0, 230), (-70, 230), (-70, 170), (-45, 170), align=None)
        with Locations((-57.5, 115)):
            Rectangle(SKETCH9_W, SKETCH9_H)
        Polygon((-45, 60), (-70, 60), (-70, 0), (0, 0), (0, 60), align=None)
    extrude(amount=-CUT_EXTRUDE5_DEPTH, mode=Mode.SUBTRACT)

    # Sketch13 → Boss-Extrude4 (add)
    with BuildSketch(Plane(origin=(0, 0, 8), x_dir=(-1, 0, 0), z_dir=(0, 0, -1))):
        with Locations((-10, 15)):
            Circle(SKETCH13_R)
        with Locations((-40, 115)):
            Rectangle(SKETCH13_W, SKETCH13_H)
    extrude(amount=BOSS_EXTRUDE4_DEPTH)

    # Sketch14 → Cut-Extrude6 (cut)
    with BuildSketch(Plane(origin=(0, 0, 0), x_dir=(-1, 0, 0), z_dir=(0, 0, -1))):
        with Locations((-77.5, 168.3)):
            Rectangle(SKETCH14_W, SKETCH14_H)
        with Locations((-77.5, 61.7)):
            Rectangle(SKETCH14_W, SKETCH14_H)
    extrude(amount=-CUT_EXTRUDE6_DEPTH, mode=Mode.SUBTRACT)

    # Sketch16 → Cut-Extrude8 (cut)
    with BuildSketch(Plane.ZY.offset(-35)):
        with Locations(Location((6.5, 115, 0), (0, 0, 333.612200039))):
            Circle(SKETCH16_R)
        with Locations(Location((6.5, 151, 0), (0, 0, 333.612200039))):
            Circle(SKETCH16_R)
        with Locations(Location((6.5, 79, 0), (0, 0, 333.612200039))):
            Circle(SKETCH16_R)
    extrude(amount=-CUT_EXTRUDE8_DEPTH, mode=Mode.SUBTRACT)

    # Sketch20 → Cut-Extrude9 (cut)
    with BuildSketch(Plane(origin=(0, 0, 1), x_dir=(-1, 0, 0), z_dir=(0, 0, -1))):
        with Locations((-40, 25.5)):
            Rectangle(SKETCH20_W, SKETCH20_H)
    extrude(amount=-CUT_EXTRUDE9_DEPTH, mode=Mode.SUBTRACT)


solid = part.part
